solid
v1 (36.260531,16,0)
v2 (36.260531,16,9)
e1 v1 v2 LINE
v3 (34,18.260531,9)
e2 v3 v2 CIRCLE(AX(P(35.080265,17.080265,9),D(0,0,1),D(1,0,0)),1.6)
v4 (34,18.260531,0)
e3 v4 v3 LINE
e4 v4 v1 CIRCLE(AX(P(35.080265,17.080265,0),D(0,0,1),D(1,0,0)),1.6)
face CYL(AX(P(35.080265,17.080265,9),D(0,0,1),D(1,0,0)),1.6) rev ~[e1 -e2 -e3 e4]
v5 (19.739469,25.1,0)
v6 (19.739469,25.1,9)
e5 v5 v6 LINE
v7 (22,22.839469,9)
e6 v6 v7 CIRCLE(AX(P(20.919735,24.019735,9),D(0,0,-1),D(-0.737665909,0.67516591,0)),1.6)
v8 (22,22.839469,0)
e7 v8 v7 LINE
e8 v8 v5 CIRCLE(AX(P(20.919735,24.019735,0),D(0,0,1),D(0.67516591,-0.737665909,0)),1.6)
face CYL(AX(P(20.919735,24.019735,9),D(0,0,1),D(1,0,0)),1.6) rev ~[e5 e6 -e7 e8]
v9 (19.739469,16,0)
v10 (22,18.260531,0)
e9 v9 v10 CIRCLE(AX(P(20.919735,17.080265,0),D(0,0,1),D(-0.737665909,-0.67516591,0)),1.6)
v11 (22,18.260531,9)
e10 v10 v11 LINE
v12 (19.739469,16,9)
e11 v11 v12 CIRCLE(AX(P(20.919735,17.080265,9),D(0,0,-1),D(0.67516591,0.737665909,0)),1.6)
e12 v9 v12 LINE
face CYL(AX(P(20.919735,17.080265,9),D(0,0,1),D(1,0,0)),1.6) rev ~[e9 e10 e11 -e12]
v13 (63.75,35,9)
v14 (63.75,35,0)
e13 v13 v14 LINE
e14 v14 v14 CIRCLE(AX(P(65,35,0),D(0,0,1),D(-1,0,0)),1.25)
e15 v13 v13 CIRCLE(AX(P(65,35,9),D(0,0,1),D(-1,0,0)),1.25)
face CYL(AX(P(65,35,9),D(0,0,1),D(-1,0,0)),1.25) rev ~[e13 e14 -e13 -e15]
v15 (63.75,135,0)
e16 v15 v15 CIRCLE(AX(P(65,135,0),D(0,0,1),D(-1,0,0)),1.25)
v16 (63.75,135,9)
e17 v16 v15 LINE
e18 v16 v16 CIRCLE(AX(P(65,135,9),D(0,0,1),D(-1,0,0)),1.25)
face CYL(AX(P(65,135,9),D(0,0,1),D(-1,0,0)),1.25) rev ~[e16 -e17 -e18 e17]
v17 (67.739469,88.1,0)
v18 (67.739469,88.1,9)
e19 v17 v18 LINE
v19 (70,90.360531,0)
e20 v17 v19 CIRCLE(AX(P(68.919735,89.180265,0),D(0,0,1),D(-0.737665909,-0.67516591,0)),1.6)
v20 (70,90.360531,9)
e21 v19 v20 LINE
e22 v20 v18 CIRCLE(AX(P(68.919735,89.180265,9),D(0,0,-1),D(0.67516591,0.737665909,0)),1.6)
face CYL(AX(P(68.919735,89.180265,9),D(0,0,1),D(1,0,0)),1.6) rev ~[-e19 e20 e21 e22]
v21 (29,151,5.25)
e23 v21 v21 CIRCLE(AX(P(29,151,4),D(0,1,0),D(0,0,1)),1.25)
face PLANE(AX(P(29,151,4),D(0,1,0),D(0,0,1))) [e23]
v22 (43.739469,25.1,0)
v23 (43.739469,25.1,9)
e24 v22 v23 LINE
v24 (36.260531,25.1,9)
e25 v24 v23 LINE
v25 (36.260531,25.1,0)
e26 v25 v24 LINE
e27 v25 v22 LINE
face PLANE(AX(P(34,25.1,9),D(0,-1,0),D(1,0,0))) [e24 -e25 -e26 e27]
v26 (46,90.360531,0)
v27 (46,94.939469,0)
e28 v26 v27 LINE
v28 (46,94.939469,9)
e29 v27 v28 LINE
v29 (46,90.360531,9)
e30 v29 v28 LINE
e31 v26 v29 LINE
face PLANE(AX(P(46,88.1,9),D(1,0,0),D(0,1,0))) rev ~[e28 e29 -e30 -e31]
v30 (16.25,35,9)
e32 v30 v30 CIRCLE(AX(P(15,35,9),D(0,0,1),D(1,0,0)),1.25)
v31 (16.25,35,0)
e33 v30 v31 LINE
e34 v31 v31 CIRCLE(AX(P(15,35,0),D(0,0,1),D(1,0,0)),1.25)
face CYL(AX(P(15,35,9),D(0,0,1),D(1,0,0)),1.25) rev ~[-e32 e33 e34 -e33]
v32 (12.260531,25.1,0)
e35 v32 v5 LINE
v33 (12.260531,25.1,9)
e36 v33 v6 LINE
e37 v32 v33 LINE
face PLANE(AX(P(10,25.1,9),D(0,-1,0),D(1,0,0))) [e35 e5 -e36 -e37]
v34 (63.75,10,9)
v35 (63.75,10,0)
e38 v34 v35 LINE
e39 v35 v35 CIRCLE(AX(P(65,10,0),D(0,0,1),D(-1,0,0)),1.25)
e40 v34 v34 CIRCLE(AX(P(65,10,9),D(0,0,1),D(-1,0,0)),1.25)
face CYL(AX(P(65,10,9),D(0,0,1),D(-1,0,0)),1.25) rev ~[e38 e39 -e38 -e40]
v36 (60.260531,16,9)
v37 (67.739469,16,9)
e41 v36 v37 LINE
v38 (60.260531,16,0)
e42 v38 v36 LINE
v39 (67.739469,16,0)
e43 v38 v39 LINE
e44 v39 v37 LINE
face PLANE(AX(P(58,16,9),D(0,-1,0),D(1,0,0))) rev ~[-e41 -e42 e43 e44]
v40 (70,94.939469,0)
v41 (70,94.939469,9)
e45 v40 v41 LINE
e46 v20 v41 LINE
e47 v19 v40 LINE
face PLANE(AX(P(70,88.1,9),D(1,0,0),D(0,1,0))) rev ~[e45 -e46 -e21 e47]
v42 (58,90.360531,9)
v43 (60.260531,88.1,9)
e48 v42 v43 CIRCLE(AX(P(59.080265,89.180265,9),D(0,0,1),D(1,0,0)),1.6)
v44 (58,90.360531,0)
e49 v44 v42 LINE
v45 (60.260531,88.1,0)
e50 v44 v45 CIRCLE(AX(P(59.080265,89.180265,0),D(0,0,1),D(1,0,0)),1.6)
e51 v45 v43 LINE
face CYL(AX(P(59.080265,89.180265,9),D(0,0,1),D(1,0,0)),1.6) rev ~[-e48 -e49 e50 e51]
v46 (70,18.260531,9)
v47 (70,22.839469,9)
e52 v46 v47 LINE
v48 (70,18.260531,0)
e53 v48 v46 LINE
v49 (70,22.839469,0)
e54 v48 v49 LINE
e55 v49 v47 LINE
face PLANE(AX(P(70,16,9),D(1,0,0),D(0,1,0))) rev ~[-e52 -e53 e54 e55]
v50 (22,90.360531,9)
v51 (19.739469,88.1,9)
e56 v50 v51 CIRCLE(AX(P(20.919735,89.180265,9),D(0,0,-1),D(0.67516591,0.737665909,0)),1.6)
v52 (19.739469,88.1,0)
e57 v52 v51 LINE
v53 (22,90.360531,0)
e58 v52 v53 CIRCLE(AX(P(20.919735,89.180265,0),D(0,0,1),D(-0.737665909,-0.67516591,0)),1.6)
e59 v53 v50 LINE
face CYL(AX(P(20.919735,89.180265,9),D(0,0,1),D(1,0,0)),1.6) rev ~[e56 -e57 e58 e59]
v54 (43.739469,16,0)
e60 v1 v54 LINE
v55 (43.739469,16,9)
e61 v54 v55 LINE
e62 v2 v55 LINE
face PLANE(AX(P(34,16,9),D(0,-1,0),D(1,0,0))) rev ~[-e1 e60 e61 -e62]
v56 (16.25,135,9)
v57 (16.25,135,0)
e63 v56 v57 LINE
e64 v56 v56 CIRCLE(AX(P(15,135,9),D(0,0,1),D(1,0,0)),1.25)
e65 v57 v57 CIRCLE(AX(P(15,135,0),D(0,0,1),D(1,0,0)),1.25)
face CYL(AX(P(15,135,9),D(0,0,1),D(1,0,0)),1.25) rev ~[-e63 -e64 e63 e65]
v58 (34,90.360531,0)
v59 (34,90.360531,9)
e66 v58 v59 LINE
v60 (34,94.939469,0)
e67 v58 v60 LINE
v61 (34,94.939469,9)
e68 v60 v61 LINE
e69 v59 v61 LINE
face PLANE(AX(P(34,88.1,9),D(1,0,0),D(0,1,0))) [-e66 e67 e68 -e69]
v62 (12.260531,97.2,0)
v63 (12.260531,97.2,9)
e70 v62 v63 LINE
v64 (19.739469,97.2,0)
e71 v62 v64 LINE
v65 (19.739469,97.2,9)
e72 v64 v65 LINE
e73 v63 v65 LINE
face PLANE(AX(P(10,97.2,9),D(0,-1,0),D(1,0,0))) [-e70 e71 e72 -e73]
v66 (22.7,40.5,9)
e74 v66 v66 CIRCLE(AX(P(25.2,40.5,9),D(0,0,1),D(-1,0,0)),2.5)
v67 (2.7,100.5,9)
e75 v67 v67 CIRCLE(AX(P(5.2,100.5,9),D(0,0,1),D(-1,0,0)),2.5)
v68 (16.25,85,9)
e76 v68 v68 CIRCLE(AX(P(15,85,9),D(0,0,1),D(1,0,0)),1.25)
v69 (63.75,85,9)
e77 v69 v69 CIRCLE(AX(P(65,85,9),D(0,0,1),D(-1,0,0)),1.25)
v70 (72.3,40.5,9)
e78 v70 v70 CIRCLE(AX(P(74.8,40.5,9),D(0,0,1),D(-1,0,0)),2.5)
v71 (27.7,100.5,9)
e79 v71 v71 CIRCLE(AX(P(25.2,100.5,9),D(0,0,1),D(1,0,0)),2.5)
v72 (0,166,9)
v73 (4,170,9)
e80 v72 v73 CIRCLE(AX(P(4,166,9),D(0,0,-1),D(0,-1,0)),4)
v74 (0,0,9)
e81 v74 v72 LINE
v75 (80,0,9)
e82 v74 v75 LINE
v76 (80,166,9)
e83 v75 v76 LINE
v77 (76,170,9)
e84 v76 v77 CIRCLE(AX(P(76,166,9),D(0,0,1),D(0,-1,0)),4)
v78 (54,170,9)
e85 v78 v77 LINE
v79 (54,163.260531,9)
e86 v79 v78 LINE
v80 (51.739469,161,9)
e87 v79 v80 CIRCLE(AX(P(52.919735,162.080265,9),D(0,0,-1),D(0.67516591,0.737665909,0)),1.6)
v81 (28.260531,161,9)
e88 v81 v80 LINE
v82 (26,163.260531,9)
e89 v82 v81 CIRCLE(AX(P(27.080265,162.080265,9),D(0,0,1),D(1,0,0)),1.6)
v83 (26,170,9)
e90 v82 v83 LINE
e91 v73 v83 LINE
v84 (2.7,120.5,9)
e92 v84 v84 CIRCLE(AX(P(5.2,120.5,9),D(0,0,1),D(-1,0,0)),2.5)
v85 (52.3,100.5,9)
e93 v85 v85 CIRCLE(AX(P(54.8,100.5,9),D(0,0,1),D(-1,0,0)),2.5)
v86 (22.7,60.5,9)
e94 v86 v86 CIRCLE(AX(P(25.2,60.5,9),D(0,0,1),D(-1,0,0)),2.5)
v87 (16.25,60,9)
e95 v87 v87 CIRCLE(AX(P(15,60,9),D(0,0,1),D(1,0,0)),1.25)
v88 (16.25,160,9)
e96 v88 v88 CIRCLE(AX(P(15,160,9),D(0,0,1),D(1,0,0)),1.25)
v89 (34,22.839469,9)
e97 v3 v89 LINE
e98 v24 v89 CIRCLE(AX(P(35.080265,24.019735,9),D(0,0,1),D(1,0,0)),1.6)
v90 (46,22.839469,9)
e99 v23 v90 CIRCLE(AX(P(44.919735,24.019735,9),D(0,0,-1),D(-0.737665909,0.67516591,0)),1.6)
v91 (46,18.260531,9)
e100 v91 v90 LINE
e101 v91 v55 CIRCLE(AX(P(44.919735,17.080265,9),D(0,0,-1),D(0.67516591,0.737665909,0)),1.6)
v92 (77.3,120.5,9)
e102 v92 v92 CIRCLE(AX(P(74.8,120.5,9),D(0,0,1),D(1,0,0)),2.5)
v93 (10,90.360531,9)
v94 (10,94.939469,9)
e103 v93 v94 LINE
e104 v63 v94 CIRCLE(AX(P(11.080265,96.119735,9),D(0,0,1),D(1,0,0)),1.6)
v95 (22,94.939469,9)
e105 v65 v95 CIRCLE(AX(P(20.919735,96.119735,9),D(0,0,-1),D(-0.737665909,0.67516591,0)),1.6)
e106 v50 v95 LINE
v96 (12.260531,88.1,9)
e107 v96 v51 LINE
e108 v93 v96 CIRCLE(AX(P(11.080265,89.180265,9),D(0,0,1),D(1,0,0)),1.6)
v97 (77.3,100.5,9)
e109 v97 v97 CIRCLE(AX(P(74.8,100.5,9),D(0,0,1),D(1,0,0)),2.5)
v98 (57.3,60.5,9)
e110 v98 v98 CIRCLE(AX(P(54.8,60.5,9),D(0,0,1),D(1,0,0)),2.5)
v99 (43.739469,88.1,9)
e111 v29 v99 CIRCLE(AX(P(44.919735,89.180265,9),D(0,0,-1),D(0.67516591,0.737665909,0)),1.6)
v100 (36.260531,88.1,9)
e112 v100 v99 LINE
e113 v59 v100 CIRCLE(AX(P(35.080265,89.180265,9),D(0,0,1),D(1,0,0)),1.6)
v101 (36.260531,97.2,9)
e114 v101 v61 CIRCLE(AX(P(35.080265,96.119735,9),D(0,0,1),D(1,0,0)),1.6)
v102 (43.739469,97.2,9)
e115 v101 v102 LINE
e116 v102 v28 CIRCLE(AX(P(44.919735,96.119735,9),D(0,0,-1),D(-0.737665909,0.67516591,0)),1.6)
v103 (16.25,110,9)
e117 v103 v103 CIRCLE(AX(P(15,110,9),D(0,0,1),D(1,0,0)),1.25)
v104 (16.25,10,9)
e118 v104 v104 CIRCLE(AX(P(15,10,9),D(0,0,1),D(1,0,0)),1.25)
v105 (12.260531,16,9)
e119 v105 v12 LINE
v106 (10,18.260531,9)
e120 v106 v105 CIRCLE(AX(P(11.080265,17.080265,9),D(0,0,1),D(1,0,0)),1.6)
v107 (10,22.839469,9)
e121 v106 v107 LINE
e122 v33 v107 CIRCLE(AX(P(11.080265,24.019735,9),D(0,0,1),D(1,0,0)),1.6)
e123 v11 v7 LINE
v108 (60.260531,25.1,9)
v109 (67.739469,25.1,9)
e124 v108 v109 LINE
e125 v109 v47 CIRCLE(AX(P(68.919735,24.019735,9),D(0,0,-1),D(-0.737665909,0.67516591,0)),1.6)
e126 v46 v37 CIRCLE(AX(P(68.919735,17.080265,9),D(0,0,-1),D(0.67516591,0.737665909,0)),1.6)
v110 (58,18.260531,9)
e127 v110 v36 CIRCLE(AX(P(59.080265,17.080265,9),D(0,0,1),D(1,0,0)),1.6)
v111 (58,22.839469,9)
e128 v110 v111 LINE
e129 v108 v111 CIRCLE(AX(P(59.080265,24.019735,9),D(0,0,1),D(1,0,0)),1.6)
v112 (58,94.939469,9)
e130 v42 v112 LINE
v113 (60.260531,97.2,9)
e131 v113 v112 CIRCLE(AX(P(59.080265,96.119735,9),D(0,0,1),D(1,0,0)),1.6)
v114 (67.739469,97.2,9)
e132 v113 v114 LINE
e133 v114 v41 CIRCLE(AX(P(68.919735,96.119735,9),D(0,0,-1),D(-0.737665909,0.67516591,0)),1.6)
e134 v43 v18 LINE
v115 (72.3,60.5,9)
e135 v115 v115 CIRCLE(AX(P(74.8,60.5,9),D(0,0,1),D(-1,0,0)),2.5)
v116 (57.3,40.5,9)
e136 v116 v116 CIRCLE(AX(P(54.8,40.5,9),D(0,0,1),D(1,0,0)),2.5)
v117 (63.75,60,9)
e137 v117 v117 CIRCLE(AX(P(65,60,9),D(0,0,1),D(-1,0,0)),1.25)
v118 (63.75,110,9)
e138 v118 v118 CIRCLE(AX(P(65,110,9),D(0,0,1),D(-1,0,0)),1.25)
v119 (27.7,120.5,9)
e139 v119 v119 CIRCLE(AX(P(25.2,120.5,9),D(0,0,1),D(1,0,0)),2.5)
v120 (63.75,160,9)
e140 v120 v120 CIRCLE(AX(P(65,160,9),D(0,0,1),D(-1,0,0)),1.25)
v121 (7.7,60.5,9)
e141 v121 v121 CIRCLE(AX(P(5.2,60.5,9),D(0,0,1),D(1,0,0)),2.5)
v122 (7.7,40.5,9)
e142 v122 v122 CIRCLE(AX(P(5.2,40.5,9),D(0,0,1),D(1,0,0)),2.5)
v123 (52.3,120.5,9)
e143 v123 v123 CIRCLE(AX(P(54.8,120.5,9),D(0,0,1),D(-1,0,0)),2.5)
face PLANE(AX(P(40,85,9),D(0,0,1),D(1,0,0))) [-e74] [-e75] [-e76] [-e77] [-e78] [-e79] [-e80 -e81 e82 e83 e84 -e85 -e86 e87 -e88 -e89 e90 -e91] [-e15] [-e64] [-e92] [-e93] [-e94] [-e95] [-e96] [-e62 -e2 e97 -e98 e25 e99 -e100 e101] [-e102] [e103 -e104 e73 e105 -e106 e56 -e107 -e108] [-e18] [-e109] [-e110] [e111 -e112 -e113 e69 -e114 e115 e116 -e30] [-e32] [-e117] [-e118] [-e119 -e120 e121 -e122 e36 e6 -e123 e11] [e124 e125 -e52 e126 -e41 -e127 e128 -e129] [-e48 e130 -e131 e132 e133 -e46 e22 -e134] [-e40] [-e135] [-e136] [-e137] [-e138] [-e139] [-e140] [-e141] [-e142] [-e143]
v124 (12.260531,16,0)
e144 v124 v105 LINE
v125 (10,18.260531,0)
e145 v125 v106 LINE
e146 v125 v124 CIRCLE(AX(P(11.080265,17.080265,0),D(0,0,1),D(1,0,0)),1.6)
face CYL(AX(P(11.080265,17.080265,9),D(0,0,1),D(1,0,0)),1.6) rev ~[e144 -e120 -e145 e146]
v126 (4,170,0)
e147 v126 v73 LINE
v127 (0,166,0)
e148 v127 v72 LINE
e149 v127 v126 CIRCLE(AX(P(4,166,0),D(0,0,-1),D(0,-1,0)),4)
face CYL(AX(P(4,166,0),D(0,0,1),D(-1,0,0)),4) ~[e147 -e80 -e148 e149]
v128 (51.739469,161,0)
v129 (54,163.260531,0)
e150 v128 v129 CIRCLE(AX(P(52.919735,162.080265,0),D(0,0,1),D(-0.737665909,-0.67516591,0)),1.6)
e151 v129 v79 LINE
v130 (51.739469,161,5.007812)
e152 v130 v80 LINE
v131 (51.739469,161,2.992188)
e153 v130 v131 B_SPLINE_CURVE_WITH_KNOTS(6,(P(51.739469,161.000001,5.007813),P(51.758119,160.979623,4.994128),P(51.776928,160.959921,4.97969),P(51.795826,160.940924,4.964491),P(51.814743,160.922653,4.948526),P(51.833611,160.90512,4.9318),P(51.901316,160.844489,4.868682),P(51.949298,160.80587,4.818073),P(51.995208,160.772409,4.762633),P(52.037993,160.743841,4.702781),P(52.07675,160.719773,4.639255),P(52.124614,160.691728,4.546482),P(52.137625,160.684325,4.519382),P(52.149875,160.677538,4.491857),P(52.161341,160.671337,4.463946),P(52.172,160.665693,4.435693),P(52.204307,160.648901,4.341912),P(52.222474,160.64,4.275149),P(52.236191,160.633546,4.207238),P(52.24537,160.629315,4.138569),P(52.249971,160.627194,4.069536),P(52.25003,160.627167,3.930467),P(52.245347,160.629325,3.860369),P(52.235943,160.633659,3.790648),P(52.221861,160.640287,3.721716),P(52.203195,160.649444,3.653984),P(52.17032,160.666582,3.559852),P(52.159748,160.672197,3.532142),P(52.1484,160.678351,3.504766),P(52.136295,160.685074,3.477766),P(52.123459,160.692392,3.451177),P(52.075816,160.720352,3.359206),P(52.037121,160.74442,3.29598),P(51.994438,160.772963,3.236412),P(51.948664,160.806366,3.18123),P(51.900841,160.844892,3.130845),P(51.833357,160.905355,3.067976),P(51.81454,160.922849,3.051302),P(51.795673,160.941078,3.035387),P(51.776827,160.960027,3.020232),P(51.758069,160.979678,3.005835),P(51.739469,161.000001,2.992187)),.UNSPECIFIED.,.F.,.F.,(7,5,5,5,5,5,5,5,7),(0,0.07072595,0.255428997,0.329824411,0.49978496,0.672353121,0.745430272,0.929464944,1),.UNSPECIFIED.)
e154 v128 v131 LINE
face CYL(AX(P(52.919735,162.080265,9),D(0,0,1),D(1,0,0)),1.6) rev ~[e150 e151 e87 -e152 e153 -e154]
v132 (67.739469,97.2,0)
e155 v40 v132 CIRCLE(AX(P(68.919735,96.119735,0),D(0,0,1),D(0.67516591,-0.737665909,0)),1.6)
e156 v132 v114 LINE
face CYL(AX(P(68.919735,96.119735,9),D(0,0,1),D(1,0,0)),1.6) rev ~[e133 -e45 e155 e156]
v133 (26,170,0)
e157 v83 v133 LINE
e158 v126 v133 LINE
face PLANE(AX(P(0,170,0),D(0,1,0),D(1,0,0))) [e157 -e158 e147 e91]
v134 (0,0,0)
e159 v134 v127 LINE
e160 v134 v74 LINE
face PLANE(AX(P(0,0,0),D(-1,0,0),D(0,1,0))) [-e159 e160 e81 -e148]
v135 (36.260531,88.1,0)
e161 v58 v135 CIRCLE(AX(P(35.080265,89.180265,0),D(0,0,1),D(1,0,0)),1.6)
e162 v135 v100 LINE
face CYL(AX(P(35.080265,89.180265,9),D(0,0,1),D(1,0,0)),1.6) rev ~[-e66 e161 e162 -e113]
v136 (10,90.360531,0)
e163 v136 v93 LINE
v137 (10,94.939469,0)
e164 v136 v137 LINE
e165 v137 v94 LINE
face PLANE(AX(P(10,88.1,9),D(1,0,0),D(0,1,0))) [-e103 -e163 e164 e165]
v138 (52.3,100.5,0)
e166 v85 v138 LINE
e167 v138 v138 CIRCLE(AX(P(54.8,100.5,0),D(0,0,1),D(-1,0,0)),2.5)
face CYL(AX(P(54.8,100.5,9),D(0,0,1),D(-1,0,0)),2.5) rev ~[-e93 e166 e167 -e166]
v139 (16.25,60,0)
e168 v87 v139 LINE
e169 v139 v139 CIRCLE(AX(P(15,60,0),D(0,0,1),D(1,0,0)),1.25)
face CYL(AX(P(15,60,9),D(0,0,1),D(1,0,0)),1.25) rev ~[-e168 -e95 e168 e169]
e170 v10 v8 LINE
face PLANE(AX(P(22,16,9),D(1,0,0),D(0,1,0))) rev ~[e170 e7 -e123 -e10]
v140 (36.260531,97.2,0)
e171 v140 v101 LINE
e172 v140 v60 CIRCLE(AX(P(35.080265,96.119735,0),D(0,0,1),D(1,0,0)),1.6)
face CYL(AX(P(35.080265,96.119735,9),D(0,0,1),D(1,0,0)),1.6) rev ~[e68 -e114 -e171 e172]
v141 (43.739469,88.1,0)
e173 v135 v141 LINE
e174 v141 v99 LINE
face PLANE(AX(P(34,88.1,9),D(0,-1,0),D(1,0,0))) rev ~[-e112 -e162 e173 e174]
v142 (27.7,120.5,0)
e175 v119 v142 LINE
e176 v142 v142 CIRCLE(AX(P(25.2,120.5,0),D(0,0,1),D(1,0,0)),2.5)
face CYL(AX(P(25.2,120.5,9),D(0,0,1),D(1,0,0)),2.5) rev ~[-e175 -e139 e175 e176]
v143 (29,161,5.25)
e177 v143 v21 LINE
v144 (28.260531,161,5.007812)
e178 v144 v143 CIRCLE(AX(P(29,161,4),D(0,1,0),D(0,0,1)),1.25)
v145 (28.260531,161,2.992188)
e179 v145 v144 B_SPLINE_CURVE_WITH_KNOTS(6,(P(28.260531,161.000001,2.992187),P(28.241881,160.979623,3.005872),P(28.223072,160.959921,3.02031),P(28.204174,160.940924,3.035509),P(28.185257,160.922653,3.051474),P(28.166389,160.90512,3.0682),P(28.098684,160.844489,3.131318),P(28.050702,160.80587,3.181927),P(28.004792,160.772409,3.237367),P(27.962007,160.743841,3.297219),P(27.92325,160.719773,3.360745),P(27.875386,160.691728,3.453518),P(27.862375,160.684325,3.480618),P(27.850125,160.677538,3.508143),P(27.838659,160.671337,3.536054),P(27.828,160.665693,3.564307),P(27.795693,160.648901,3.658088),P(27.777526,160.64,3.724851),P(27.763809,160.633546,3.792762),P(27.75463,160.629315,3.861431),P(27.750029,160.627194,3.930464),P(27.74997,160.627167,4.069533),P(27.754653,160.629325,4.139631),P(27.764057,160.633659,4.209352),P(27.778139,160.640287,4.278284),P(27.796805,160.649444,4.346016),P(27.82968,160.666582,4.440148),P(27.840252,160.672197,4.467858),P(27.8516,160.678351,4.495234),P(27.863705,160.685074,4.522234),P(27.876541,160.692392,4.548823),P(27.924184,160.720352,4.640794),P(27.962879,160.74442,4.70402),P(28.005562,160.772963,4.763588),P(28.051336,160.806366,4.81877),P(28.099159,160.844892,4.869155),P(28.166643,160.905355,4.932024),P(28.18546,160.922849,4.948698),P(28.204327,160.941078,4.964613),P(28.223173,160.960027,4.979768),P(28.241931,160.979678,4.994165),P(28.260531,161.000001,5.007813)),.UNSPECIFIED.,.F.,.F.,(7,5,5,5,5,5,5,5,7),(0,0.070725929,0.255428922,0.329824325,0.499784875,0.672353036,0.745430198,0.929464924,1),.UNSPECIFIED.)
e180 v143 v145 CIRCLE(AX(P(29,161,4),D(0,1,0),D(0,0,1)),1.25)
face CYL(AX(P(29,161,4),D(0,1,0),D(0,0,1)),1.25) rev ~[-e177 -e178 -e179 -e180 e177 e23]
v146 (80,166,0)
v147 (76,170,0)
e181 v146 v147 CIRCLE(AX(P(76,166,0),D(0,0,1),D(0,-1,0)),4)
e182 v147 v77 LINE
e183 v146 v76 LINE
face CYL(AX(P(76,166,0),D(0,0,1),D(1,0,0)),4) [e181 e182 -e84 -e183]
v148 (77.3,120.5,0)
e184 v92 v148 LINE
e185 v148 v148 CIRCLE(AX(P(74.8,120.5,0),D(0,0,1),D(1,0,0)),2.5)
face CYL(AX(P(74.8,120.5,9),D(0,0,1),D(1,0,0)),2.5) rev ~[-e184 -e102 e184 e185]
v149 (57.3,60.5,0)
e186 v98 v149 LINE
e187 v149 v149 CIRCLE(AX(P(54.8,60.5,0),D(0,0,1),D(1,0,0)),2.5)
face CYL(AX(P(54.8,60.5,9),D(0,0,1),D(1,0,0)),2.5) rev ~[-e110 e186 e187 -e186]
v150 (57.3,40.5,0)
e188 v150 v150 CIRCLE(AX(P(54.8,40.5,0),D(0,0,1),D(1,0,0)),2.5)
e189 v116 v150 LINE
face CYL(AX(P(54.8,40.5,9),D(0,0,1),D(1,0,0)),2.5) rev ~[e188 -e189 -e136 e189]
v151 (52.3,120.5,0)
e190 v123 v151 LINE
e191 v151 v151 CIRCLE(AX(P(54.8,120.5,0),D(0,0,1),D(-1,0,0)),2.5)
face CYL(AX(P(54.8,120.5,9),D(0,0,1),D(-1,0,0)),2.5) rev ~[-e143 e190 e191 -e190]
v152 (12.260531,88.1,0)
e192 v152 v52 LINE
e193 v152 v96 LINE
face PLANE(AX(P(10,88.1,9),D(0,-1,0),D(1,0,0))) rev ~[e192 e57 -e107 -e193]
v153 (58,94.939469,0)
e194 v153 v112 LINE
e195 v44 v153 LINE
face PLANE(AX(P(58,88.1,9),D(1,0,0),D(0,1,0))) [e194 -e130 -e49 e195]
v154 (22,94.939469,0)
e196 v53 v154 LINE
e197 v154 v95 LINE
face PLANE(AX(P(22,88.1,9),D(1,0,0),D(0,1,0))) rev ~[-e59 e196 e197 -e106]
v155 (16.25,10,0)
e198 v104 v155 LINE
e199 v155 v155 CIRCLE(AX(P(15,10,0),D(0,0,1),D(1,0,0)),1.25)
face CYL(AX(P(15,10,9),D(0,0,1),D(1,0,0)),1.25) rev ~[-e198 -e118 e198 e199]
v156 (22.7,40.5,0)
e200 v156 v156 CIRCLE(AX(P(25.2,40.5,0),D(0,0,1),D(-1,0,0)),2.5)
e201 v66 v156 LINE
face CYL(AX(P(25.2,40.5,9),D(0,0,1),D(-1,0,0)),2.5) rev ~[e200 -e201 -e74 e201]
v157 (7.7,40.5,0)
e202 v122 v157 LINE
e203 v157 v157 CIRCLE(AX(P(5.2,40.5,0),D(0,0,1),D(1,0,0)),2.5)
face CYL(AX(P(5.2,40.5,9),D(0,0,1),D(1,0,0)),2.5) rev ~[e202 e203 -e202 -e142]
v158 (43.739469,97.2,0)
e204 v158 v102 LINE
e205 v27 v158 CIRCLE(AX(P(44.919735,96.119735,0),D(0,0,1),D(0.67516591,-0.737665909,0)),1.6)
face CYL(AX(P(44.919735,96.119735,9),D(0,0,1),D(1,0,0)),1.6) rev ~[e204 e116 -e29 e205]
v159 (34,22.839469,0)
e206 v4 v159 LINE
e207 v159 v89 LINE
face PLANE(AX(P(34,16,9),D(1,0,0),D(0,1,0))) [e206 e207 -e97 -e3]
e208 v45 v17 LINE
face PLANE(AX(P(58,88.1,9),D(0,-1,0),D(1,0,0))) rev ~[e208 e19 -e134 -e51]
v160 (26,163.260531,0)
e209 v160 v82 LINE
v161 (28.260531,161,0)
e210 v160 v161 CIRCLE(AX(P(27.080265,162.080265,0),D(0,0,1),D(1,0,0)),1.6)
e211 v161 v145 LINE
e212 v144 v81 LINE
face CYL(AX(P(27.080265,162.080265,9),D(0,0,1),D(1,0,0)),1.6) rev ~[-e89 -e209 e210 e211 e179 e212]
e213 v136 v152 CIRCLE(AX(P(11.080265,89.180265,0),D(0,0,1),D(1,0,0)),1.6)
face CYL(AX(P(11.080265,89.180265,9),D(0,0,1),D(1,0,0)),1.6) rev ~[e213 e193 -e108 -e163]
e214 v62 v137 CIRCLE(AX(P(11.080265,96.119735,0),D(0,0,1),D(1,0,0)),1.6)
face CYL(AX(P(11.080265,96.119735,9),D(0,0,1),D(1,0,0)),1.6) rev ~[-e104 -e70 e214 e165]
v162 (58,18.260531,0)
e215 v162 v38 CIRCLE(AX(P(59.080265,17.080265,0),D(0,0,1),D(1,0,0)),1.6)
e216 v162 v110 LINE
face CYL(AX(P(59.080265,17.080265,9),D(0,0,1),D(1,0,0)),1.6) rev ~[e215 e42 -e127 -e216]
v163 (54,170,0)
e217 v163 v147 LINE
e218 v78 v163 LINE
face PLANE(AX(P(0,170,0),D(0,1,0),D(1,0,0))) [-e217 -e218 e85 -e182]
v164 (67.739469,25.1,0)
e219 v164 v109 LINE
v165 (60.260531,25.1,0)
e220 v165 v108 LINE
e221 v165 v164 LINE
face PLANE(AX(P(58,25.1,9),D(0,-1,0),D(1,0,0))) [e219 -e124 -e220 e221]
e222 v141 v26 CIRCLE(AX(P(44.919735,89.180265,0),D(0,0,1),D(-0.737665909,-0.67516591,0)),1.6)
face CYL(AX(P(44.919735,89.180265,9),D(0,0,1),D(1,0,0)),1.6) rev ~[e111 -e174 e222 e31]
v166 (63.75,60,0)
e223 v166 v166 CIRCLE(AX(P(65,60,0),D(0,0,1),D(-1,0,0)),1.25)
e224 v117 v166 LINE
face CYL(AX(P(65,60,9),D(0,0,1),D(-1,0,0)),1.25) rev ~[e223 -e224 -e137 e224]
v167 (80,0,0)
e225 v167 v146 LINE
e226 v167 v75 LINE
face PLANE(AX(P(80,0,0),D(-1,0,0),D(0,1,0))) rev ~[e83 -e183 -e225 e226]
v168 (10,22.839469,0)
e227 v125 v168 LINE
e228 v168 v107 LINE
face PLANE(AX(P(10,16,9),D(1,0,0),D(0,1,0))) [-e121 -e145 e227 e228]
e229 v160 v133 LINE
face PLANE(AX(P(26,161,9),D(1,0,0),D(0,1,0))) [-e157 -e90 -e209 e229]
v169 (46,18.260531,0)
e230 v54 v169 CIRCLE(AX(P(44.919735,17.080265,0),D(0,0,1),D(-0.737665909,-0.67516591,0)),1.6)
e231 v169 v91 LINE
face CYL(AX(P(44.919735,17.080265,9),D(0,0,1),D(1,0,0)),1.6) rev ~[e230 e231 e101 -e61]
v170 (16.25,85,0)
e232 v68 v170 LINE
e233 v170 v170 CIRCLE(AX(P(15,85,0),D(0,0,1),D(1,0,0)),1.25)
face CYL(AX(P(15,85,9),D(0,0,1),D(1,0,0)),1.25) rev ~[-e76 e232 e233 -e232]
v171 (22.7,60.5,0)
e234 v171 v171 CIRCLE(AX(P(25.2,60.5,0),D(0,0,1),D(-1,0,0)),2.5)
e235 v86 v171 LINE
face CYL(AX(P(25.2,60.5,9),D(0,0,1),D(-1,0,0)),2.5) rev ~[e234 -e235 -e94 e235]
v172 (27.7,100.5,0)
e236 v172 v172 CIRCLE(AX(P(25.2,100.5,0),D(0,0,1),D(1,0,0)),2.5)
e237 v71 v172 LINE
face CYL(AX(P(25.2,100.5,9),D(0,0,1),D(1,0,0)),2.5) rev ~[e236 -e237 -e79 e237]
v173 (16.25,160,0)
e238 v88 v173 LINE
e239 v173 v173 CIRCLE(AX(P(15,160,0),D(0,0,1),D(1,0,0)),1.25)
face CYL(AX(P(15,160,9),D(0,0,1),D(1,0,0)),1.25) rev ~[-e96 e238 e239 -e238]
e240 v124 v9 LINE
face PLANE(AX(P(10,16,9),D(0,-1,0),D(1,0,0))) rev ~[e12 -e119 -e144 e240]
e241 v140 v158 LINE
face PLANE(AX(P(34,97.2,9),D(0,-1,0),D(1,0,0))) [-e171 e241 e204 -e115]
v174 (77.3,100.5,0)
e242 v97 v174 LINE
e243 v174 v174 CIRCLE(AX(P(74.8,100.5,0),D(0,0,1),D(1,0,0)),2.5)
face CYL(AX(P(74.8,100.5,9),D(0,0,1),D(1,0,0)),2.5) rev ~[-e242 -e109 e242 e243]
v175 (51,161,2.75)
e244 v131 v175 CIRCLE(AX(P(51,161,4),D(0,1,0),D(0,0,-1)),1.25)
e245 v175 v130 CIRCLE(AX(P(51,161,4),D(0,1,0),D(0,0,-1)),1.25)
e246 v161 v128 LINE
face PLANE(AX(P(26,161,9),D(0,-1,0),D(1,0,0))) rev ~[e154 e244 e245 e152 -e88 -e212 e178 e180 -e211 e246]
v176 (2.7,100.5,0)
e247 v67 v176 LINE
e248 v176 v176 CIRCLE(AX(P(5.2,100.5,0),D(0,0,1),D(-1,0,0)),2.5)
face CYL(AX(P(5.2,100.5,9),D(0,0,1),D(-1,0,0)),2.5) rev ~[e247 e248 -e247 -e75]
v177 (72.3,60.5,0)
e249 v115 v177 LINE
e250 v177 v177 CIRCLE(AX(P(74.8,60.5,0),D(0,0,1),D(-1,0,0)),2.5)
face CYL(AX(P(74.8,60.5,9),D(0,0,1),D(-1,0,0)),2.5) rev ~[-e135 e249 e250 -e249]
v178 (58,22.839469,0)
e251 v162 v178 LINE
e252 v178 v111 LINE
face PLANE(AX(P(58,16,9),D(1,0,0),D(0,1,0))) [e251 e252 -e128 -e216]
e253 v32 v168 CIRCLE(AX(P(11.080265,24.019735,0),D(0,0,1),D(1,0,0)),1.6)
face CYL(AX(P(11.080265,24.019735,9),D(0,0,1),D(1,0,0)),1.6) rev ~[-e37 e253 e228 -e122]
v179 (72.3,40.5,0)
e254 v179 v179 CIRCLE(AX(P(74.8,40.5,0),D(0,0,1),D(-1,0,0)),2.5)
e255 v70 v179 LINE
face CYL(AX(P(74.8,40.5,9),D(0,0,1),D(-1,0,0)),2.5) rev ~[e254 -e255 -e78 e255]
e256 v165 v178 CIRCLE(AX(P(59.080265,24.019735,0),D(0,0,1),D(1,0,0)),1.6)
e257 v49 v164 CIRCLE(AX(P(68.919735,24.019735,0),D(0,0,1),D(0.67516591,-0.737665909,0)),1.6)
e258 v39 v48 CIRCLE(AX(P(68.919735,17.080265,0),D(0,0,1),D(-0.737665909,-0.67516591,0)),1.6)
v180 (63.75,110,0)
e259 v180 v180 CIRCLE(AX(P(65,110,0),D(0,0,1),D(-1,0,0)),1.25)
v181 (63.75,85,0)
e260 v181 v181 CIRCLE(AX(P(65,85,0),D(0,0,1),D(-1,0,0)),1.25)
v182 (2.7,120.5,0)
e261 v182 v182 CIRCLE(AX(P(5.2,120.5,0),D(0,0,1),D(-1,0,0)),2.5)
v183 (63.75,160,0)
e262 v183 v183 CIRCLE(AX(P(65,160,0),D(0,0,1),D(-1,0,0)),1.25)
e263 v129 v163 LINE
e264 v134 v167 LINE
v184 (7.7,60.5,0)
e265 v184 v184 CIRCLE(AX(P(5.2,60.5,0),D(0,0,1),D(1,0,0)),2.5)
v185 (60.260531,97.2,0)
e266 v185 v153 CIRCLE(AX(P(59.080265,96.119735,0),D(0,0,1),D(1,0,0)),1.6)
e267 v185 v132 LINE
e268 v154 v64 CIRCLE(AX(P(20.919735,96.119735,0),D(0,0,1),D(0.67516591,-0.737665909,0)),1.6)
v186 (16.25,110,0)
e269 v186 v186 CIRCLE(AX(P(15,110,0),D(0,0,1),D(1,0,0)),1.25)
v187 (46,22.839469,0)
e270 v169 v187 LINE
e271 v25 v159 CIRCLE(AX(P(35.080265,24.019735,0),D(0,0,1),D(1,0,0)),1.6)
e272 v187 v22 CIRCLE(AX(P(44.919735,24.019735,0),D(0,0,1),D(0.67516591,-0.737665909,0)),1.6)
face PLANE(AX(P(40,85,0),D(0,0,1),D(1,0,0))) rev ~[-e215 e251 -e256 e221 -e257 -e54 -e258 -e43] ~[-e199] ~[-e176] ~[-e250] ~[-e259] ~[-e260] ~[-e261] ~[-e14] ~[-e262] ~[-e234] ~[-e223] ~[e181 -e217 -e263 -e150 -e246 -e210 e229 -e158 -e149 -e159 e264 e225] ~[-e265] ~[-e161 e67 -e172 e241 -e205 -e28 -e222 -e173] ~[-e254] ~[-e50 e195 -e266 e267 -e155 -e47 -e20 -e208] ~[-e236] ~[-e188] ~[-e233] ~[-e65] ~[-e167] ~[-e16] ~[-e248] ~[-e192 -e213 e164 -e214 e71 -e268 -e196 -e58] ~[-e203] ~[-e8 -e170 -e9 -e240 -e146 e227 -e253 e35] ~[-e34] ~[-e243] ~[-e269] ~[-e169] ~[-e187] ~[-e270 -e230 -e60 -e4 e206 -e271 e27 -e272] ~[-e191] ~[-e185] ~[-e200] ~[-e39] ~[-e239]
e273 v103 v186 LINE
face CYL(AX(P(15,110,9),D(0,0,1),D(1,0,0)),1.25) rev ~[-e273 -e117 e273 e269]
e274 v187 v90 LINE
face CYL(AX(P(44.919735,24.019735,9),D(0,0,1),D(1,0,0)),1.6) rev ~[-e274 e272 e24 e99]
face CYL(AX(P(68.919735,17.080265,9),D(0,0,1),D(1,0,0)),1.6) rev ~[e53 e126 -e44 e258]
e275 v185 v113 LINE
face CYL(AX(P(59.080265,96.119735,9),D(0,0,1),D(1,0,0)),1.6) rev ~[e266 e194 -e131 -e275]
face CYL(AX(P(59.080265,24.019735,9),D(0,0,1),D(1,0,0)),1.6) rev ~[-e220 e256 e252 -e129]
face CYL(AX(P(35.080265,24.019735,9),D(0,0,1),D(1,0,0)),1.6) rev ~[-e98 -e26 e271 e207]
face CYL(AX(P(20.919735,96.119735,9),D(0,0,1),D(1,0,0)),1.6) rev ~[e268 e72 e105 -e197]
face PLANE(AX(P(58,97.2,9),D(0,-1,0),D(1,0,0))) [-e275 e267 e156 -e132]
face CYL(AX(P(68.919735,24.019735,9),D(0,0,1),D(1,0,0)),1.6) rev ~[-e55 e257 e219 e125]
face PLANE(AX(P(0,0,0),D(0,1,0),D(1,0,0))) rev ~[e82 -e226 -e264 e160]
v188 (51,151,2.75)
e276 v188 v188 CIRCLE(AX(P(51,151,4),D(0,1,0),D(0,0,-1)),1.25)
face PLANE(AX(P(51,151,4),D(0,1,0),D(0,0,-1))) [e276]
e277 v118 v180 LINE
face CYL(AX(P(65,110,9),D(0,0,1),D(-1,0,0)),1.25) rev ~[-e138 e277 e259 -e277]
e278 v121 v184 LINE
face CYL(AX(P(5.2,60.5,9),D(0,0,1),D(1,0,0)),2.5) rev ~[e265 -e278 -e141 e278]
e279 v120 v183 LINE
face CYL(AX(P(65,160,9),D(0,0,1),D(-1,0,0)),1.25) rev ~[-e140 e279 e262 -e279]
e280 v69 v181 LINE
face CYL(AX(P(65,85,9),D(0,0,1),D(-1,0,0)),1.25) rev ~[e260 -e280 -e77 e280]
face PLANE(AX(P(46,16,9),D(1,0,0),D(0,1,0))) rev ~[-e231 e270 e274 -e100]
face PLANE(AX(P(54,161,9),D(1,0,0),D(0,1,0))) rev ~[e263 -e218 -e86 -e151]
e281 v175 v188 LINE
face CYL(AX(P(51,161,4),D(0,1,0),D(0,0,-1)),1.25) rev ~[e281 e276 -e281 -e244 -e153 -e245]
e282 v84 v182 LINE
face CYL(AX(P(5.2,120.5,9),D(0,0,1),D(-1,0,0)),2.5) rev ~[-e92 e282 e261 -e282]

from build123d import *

# Parameters (mm, degrees)
ESQUISSE1_W             = 80
ESQUISSE1_H             = 170
BOSS_EXTRU_1_DEPTH      = 9
ESQUISSE2_R             = 1.25
ENL_V_MAT_EXTRU_1_DEPTH = 189.098378515
ESQUISSE4_W             = 28
ESQUISSE4_H             = 9
ENL_V_MAT_EXTRU_3_DEPTH = 189.098378515
ESQUISSE5_R             = 1.25
ENL_V_MAT_EXTRU_4_DEPTH = 10
ESQUISSE6_R             = 2.5
ENL_V_MAT_EXTRU_5_DEPTH = 189.098378515
CONG_1_R                = 4
ESQUISSE7_W             = 12
ESQUISSE7_H             = 9.1
ENL_V_MAT_EXTRU_6_DEPTH = 189.098378515
ESQUISSE8_R             = 1.6
ENL_V_MAT_EXTRU_7_DEPTH = 189.098378515


with BuildPart() as part:
    # Esquisse1 → Boss.-Extru.1 (new body)
    with BuildSketch(Plane.XY):
        with Locations((40, 85)):
            Rectangle(ESQUISSE1_W, ESQUISSE1_H)
    extrude(amount=BOSS_EXTRU_1_DEPTH)

    # Esquisse2 → Enlèv. mat.-Extru.1 (cut, through all)
    with BuildSketch(Plane.XY.offset(9)):
        with Locations((15, 10)):
            Circle(ESQUISSE2_R)
        with Locations(Location((65, 10, 0), (0, 0, 180))):
            Circle(ESQUISSE2_R)
        with Locations((15, 35)):
            Circle(ESQUISSE2_R)
        with Locations(Location((65, 35, 0), (0, 0, 180))):
            Circle(ESQUISSE2_R)
        with Locations((15, 60)):
            Circle(ESQUISSE2_R)
        with Locations(Location((65, 60, 0), (0, 0, 180))):
            Circle(ESQUISSE2_R)
        with Locations((15, 85)):
            Circle(ESQUISSE2_R)
        with Locations(Location((65, 85, 0), (0, 0, 180))):
            Circle(ESQUISSE2_R)
        with Locations((15, 110)):
            Circle(ESQUISSE2_R)
        with Locations(Location((65, 110, 0), (0, 0, 180))):
            Circle(ESQUISSE2_R)
        with Locations((15, 135)):
            Circle(ESQUISSE2_R)
        with Locations(Location((65, 135, 0), (0, 0, 180))):
            Circle(ESQUISSE2_R)
        with Locations((15, 160)):
            Circle(ESQUISSE2_R)
        with Locations(Location((65, 160, 0), (0, 0, 180))):
            Circle(ESQUISSE2_R)
        with Locations((15, 185)):
            Circle(ESQUISSE2_R)
        with Locations((65, 185)):
            Circle(ESQUISSE2_R)
    extrude(amount=-ENL_V_MAT_EXTRU_1_DEPTH, mode=Mode.SUBTRACT)

    # Esquisse4 → Enlèv. mat.-Extru.3 (cut, through all)
    with BuildSketch(Plane.XY.offset(9)):
        with Locations((40, 165.5)):
            Rectangle(ESQUISSE4_W, ESQUISSE4_H)
    extrude(amount=-ENL_V_MAT_EXTRU_3_DEPTH, mode=Mode.SUBTRACT)

    # Esquisse5 → Enlèv. mat.-Extru.4 (cut)
    with BuildSketch(Plane(origin=(0, 161, 0), x_dir=(1, 0, 0), z_dir=(0, 1, 0))):
        with Locations(Location((29, -4, 0), (0, 0, 270))):
            Circle(ESQUISSE5_R)
        with Locations(Location((51, -4, 0), (0, 0, 90))):
            Circle(ESQUISSE5_R)
    extrude(amount=-ENL_V_MAT_EXTRU_4_DEPTH, mode=Mode.SUBTRACT)

    # Esquisse6 → Enlèv. mat.-Extru.5 (cut, through all)
    with BuildSketch(Plane.XY.offset(9)):
        with Locations((74.8, 120.5)):
            Circle(ESQUISSE6_R)
        with Locations(Location((74.8, 60.5, 0), (0, 0, 180))):
            Circle(ESQUISSE6_R)
        with Locations((74.8, 100.5)):
            Circle(ESQUISSE6_R)
        with Locations(Location((74.8, 40.5, 0), (0, 0, 180))):
            Circle(ESQUISSE6_R)
        with Locations((5.2, 40.5)):
            Circle(ESQUISSE6_R)
        with Locations(Location((5.2, 100.5, 0), (0, 0, 180))):
            Circle(ESQUISSE6_R)
        with Locations((5.2, 60.5)):
            Circle(ESQUISSE6_R)
        with Locations(Location((5.2, 120.5, 0), (0, 0, 180))):
            Circle(ESQUISSE6_R)
        with Locations(Location((54.8, 100.5, 0), (0, 0, 180))):
            Circle(ESQUISSE6_R)
        with Locations(Location((54.8, 120.5, 0), (0, 0, 180))):
            Circle(ESQUISSE6_R)
        with Locations((54.8, 40.5)):
            Circle(ESQUISSE6_R)
        with Locations((54.8, 60.5)):
            Circle(ESQUISSE6_R)
        with Locations(Location((25.2, 60.5, 0), (0, 0, 180))):
            Circle(ESQUISSE6_R)
        with Locations(Location((25.2, 40.5, 0), (0, 0, 180))):
            Circle(ESQUISSE6_R)
        with Locations((25.2, 120.5)):
            Circle(ESQUISSE6_R)
        with Locations((25.2, 100.5)):
            Circle(ESQUISSE6_R)
    extrude(amount=-ENL_V_MAT_EXTRU_5_DEPTH, mode=Mode.SUBTRACT)

    # Congé1
    cong_1_edges = [part.edges().sort_by_distance(p)[0] for p in [
        (0, 170, 4.5),
        (80, 170, 4.5),
    ]]
    fillet(cong_1_edges, radius=CONG_1_R)

    # Esquisse7 → Enlèv. mat.-Extru.6 (cut, through all)
    with BuildSketch(Plane.XY.offset(9)):
        with Locations((16, 20.55)):
            Rectangle(ESQUISSE7_W, ESQUISSE7_H)
        with Locations((40, 20.55)):
            Rectangle(ESQUISSE7_W, ESQUISSE7_H)
        with Locations((64, 20.55)):
            Rectangle(ESQUISSE7_W, ESQUISSE7_H)
        with Locations((64, 92.65)):
            Rectangle(ESQUISSE7_W, ESQUISSE7_H)
        with Locations((40, 92.65)):
            Rectangle(ESQUISSE7_W, ESQUISSE7_H)
        with Locations((16, 92.65)):
            Rectangle(ESQUISSE7_W, ESQUISSE7_H)
    extrude(amount=-ENL_V_MAT_EXTRU_6_DEPTH, mode=Mode.SUBTRACT)

    # Esquisse8 → Enlèv. mat.-Extru.7 (cut, through all)
    with BuildSketch(Plane.XY.offset(9)):
        with Locations((11.080265456, 17.080265456)):
            Circle(ESQUISSE8_R)
        with Locations((11.080265456, 24.019734544)):
            Circle(ESQUISSE8_R)
        with Locations((20.919734544, 24.019734544)):
            Circle(ESQUISSE8_R)
        with Locations((20.919734544, 17.080265456)):
            Circle(ESQUISSE8_R)
        with Locations((35.080265456, 17.080265456)):
            Circle(ESQUISSE8_R)
        with Locations((35.080265456, 24.019734544)):
            Circle(ESQUISSE8_R)
        with Locations((44.919734544, 24.019734544)):
            Circle(ESQUISSE8_R)
        with Locations((44.919734544, 17.080265456)):
            Circle(ESQUISSE8_R)
        with Locations((59.080265456, 17.080265456)):
            Circle(ESQUISSE8_R)
        with Locations((59.080265456, 24.019734544)):
            Circle(ESQUISSE8_R)
        with Locations((68.919734544, 24.019734544)):
            Circle(ESQUISSE8_R)
        with Locations((68.919734544, 17.080265456)):
            Circle(ESQUISSE8_R)
        with Locations((68.919734544, 96.119734544)):
            Circle(ESQUISSE8_R)
        with Locations((68.919734544, 89.180265456)):
            Circle(ESQUISSE8_R)
        with Locations((59.080265456, 89.180265456)):
            Circle(ESQUISSE8_R)
        with Locations((59.080265456, 96.119734544)):
            Circle(ESQUISSE8_R)
        with Locations((44.919734544, 96.119734544)):
            Circle(ESQUISSE8_R)
        with Locations((44.919734544, 89.180265456)):
            Circle(ESQUISSE8_R)
        with Locations((35.080265456, 89.180265456)):
            Circle(ESQUISSE8_R)
        with Locations((35.080265456, 96.119734544)):
            Circle(ESQUISSE8_R)
        with Locations((20.919734544, 96.119734544)):
            Circle(ESQUISSE8_R)
        with Locations((20.919734544, 89.180265456)):
            Circle(ESQUISSE8_R)
        with Locations((11.080265456, 89.180265456)):
            Circle(ESQUISSE8_R)
        with Locations((11.080265456, 96.119734544)):
            Circle(ESQUISSE8_R)
        with Locations((27.080265456, 162.080265456)):
            Circle(ESQUISSE8_R)
        with Locations((52.919734544, 162.080265456)):
            Circle(ESQUISSE8_R)
    extrude(amount=-ENL_V_MAT_EXTRU_7_DEPTH, mode=Mode.SUBTRACT)


solid = part.part
